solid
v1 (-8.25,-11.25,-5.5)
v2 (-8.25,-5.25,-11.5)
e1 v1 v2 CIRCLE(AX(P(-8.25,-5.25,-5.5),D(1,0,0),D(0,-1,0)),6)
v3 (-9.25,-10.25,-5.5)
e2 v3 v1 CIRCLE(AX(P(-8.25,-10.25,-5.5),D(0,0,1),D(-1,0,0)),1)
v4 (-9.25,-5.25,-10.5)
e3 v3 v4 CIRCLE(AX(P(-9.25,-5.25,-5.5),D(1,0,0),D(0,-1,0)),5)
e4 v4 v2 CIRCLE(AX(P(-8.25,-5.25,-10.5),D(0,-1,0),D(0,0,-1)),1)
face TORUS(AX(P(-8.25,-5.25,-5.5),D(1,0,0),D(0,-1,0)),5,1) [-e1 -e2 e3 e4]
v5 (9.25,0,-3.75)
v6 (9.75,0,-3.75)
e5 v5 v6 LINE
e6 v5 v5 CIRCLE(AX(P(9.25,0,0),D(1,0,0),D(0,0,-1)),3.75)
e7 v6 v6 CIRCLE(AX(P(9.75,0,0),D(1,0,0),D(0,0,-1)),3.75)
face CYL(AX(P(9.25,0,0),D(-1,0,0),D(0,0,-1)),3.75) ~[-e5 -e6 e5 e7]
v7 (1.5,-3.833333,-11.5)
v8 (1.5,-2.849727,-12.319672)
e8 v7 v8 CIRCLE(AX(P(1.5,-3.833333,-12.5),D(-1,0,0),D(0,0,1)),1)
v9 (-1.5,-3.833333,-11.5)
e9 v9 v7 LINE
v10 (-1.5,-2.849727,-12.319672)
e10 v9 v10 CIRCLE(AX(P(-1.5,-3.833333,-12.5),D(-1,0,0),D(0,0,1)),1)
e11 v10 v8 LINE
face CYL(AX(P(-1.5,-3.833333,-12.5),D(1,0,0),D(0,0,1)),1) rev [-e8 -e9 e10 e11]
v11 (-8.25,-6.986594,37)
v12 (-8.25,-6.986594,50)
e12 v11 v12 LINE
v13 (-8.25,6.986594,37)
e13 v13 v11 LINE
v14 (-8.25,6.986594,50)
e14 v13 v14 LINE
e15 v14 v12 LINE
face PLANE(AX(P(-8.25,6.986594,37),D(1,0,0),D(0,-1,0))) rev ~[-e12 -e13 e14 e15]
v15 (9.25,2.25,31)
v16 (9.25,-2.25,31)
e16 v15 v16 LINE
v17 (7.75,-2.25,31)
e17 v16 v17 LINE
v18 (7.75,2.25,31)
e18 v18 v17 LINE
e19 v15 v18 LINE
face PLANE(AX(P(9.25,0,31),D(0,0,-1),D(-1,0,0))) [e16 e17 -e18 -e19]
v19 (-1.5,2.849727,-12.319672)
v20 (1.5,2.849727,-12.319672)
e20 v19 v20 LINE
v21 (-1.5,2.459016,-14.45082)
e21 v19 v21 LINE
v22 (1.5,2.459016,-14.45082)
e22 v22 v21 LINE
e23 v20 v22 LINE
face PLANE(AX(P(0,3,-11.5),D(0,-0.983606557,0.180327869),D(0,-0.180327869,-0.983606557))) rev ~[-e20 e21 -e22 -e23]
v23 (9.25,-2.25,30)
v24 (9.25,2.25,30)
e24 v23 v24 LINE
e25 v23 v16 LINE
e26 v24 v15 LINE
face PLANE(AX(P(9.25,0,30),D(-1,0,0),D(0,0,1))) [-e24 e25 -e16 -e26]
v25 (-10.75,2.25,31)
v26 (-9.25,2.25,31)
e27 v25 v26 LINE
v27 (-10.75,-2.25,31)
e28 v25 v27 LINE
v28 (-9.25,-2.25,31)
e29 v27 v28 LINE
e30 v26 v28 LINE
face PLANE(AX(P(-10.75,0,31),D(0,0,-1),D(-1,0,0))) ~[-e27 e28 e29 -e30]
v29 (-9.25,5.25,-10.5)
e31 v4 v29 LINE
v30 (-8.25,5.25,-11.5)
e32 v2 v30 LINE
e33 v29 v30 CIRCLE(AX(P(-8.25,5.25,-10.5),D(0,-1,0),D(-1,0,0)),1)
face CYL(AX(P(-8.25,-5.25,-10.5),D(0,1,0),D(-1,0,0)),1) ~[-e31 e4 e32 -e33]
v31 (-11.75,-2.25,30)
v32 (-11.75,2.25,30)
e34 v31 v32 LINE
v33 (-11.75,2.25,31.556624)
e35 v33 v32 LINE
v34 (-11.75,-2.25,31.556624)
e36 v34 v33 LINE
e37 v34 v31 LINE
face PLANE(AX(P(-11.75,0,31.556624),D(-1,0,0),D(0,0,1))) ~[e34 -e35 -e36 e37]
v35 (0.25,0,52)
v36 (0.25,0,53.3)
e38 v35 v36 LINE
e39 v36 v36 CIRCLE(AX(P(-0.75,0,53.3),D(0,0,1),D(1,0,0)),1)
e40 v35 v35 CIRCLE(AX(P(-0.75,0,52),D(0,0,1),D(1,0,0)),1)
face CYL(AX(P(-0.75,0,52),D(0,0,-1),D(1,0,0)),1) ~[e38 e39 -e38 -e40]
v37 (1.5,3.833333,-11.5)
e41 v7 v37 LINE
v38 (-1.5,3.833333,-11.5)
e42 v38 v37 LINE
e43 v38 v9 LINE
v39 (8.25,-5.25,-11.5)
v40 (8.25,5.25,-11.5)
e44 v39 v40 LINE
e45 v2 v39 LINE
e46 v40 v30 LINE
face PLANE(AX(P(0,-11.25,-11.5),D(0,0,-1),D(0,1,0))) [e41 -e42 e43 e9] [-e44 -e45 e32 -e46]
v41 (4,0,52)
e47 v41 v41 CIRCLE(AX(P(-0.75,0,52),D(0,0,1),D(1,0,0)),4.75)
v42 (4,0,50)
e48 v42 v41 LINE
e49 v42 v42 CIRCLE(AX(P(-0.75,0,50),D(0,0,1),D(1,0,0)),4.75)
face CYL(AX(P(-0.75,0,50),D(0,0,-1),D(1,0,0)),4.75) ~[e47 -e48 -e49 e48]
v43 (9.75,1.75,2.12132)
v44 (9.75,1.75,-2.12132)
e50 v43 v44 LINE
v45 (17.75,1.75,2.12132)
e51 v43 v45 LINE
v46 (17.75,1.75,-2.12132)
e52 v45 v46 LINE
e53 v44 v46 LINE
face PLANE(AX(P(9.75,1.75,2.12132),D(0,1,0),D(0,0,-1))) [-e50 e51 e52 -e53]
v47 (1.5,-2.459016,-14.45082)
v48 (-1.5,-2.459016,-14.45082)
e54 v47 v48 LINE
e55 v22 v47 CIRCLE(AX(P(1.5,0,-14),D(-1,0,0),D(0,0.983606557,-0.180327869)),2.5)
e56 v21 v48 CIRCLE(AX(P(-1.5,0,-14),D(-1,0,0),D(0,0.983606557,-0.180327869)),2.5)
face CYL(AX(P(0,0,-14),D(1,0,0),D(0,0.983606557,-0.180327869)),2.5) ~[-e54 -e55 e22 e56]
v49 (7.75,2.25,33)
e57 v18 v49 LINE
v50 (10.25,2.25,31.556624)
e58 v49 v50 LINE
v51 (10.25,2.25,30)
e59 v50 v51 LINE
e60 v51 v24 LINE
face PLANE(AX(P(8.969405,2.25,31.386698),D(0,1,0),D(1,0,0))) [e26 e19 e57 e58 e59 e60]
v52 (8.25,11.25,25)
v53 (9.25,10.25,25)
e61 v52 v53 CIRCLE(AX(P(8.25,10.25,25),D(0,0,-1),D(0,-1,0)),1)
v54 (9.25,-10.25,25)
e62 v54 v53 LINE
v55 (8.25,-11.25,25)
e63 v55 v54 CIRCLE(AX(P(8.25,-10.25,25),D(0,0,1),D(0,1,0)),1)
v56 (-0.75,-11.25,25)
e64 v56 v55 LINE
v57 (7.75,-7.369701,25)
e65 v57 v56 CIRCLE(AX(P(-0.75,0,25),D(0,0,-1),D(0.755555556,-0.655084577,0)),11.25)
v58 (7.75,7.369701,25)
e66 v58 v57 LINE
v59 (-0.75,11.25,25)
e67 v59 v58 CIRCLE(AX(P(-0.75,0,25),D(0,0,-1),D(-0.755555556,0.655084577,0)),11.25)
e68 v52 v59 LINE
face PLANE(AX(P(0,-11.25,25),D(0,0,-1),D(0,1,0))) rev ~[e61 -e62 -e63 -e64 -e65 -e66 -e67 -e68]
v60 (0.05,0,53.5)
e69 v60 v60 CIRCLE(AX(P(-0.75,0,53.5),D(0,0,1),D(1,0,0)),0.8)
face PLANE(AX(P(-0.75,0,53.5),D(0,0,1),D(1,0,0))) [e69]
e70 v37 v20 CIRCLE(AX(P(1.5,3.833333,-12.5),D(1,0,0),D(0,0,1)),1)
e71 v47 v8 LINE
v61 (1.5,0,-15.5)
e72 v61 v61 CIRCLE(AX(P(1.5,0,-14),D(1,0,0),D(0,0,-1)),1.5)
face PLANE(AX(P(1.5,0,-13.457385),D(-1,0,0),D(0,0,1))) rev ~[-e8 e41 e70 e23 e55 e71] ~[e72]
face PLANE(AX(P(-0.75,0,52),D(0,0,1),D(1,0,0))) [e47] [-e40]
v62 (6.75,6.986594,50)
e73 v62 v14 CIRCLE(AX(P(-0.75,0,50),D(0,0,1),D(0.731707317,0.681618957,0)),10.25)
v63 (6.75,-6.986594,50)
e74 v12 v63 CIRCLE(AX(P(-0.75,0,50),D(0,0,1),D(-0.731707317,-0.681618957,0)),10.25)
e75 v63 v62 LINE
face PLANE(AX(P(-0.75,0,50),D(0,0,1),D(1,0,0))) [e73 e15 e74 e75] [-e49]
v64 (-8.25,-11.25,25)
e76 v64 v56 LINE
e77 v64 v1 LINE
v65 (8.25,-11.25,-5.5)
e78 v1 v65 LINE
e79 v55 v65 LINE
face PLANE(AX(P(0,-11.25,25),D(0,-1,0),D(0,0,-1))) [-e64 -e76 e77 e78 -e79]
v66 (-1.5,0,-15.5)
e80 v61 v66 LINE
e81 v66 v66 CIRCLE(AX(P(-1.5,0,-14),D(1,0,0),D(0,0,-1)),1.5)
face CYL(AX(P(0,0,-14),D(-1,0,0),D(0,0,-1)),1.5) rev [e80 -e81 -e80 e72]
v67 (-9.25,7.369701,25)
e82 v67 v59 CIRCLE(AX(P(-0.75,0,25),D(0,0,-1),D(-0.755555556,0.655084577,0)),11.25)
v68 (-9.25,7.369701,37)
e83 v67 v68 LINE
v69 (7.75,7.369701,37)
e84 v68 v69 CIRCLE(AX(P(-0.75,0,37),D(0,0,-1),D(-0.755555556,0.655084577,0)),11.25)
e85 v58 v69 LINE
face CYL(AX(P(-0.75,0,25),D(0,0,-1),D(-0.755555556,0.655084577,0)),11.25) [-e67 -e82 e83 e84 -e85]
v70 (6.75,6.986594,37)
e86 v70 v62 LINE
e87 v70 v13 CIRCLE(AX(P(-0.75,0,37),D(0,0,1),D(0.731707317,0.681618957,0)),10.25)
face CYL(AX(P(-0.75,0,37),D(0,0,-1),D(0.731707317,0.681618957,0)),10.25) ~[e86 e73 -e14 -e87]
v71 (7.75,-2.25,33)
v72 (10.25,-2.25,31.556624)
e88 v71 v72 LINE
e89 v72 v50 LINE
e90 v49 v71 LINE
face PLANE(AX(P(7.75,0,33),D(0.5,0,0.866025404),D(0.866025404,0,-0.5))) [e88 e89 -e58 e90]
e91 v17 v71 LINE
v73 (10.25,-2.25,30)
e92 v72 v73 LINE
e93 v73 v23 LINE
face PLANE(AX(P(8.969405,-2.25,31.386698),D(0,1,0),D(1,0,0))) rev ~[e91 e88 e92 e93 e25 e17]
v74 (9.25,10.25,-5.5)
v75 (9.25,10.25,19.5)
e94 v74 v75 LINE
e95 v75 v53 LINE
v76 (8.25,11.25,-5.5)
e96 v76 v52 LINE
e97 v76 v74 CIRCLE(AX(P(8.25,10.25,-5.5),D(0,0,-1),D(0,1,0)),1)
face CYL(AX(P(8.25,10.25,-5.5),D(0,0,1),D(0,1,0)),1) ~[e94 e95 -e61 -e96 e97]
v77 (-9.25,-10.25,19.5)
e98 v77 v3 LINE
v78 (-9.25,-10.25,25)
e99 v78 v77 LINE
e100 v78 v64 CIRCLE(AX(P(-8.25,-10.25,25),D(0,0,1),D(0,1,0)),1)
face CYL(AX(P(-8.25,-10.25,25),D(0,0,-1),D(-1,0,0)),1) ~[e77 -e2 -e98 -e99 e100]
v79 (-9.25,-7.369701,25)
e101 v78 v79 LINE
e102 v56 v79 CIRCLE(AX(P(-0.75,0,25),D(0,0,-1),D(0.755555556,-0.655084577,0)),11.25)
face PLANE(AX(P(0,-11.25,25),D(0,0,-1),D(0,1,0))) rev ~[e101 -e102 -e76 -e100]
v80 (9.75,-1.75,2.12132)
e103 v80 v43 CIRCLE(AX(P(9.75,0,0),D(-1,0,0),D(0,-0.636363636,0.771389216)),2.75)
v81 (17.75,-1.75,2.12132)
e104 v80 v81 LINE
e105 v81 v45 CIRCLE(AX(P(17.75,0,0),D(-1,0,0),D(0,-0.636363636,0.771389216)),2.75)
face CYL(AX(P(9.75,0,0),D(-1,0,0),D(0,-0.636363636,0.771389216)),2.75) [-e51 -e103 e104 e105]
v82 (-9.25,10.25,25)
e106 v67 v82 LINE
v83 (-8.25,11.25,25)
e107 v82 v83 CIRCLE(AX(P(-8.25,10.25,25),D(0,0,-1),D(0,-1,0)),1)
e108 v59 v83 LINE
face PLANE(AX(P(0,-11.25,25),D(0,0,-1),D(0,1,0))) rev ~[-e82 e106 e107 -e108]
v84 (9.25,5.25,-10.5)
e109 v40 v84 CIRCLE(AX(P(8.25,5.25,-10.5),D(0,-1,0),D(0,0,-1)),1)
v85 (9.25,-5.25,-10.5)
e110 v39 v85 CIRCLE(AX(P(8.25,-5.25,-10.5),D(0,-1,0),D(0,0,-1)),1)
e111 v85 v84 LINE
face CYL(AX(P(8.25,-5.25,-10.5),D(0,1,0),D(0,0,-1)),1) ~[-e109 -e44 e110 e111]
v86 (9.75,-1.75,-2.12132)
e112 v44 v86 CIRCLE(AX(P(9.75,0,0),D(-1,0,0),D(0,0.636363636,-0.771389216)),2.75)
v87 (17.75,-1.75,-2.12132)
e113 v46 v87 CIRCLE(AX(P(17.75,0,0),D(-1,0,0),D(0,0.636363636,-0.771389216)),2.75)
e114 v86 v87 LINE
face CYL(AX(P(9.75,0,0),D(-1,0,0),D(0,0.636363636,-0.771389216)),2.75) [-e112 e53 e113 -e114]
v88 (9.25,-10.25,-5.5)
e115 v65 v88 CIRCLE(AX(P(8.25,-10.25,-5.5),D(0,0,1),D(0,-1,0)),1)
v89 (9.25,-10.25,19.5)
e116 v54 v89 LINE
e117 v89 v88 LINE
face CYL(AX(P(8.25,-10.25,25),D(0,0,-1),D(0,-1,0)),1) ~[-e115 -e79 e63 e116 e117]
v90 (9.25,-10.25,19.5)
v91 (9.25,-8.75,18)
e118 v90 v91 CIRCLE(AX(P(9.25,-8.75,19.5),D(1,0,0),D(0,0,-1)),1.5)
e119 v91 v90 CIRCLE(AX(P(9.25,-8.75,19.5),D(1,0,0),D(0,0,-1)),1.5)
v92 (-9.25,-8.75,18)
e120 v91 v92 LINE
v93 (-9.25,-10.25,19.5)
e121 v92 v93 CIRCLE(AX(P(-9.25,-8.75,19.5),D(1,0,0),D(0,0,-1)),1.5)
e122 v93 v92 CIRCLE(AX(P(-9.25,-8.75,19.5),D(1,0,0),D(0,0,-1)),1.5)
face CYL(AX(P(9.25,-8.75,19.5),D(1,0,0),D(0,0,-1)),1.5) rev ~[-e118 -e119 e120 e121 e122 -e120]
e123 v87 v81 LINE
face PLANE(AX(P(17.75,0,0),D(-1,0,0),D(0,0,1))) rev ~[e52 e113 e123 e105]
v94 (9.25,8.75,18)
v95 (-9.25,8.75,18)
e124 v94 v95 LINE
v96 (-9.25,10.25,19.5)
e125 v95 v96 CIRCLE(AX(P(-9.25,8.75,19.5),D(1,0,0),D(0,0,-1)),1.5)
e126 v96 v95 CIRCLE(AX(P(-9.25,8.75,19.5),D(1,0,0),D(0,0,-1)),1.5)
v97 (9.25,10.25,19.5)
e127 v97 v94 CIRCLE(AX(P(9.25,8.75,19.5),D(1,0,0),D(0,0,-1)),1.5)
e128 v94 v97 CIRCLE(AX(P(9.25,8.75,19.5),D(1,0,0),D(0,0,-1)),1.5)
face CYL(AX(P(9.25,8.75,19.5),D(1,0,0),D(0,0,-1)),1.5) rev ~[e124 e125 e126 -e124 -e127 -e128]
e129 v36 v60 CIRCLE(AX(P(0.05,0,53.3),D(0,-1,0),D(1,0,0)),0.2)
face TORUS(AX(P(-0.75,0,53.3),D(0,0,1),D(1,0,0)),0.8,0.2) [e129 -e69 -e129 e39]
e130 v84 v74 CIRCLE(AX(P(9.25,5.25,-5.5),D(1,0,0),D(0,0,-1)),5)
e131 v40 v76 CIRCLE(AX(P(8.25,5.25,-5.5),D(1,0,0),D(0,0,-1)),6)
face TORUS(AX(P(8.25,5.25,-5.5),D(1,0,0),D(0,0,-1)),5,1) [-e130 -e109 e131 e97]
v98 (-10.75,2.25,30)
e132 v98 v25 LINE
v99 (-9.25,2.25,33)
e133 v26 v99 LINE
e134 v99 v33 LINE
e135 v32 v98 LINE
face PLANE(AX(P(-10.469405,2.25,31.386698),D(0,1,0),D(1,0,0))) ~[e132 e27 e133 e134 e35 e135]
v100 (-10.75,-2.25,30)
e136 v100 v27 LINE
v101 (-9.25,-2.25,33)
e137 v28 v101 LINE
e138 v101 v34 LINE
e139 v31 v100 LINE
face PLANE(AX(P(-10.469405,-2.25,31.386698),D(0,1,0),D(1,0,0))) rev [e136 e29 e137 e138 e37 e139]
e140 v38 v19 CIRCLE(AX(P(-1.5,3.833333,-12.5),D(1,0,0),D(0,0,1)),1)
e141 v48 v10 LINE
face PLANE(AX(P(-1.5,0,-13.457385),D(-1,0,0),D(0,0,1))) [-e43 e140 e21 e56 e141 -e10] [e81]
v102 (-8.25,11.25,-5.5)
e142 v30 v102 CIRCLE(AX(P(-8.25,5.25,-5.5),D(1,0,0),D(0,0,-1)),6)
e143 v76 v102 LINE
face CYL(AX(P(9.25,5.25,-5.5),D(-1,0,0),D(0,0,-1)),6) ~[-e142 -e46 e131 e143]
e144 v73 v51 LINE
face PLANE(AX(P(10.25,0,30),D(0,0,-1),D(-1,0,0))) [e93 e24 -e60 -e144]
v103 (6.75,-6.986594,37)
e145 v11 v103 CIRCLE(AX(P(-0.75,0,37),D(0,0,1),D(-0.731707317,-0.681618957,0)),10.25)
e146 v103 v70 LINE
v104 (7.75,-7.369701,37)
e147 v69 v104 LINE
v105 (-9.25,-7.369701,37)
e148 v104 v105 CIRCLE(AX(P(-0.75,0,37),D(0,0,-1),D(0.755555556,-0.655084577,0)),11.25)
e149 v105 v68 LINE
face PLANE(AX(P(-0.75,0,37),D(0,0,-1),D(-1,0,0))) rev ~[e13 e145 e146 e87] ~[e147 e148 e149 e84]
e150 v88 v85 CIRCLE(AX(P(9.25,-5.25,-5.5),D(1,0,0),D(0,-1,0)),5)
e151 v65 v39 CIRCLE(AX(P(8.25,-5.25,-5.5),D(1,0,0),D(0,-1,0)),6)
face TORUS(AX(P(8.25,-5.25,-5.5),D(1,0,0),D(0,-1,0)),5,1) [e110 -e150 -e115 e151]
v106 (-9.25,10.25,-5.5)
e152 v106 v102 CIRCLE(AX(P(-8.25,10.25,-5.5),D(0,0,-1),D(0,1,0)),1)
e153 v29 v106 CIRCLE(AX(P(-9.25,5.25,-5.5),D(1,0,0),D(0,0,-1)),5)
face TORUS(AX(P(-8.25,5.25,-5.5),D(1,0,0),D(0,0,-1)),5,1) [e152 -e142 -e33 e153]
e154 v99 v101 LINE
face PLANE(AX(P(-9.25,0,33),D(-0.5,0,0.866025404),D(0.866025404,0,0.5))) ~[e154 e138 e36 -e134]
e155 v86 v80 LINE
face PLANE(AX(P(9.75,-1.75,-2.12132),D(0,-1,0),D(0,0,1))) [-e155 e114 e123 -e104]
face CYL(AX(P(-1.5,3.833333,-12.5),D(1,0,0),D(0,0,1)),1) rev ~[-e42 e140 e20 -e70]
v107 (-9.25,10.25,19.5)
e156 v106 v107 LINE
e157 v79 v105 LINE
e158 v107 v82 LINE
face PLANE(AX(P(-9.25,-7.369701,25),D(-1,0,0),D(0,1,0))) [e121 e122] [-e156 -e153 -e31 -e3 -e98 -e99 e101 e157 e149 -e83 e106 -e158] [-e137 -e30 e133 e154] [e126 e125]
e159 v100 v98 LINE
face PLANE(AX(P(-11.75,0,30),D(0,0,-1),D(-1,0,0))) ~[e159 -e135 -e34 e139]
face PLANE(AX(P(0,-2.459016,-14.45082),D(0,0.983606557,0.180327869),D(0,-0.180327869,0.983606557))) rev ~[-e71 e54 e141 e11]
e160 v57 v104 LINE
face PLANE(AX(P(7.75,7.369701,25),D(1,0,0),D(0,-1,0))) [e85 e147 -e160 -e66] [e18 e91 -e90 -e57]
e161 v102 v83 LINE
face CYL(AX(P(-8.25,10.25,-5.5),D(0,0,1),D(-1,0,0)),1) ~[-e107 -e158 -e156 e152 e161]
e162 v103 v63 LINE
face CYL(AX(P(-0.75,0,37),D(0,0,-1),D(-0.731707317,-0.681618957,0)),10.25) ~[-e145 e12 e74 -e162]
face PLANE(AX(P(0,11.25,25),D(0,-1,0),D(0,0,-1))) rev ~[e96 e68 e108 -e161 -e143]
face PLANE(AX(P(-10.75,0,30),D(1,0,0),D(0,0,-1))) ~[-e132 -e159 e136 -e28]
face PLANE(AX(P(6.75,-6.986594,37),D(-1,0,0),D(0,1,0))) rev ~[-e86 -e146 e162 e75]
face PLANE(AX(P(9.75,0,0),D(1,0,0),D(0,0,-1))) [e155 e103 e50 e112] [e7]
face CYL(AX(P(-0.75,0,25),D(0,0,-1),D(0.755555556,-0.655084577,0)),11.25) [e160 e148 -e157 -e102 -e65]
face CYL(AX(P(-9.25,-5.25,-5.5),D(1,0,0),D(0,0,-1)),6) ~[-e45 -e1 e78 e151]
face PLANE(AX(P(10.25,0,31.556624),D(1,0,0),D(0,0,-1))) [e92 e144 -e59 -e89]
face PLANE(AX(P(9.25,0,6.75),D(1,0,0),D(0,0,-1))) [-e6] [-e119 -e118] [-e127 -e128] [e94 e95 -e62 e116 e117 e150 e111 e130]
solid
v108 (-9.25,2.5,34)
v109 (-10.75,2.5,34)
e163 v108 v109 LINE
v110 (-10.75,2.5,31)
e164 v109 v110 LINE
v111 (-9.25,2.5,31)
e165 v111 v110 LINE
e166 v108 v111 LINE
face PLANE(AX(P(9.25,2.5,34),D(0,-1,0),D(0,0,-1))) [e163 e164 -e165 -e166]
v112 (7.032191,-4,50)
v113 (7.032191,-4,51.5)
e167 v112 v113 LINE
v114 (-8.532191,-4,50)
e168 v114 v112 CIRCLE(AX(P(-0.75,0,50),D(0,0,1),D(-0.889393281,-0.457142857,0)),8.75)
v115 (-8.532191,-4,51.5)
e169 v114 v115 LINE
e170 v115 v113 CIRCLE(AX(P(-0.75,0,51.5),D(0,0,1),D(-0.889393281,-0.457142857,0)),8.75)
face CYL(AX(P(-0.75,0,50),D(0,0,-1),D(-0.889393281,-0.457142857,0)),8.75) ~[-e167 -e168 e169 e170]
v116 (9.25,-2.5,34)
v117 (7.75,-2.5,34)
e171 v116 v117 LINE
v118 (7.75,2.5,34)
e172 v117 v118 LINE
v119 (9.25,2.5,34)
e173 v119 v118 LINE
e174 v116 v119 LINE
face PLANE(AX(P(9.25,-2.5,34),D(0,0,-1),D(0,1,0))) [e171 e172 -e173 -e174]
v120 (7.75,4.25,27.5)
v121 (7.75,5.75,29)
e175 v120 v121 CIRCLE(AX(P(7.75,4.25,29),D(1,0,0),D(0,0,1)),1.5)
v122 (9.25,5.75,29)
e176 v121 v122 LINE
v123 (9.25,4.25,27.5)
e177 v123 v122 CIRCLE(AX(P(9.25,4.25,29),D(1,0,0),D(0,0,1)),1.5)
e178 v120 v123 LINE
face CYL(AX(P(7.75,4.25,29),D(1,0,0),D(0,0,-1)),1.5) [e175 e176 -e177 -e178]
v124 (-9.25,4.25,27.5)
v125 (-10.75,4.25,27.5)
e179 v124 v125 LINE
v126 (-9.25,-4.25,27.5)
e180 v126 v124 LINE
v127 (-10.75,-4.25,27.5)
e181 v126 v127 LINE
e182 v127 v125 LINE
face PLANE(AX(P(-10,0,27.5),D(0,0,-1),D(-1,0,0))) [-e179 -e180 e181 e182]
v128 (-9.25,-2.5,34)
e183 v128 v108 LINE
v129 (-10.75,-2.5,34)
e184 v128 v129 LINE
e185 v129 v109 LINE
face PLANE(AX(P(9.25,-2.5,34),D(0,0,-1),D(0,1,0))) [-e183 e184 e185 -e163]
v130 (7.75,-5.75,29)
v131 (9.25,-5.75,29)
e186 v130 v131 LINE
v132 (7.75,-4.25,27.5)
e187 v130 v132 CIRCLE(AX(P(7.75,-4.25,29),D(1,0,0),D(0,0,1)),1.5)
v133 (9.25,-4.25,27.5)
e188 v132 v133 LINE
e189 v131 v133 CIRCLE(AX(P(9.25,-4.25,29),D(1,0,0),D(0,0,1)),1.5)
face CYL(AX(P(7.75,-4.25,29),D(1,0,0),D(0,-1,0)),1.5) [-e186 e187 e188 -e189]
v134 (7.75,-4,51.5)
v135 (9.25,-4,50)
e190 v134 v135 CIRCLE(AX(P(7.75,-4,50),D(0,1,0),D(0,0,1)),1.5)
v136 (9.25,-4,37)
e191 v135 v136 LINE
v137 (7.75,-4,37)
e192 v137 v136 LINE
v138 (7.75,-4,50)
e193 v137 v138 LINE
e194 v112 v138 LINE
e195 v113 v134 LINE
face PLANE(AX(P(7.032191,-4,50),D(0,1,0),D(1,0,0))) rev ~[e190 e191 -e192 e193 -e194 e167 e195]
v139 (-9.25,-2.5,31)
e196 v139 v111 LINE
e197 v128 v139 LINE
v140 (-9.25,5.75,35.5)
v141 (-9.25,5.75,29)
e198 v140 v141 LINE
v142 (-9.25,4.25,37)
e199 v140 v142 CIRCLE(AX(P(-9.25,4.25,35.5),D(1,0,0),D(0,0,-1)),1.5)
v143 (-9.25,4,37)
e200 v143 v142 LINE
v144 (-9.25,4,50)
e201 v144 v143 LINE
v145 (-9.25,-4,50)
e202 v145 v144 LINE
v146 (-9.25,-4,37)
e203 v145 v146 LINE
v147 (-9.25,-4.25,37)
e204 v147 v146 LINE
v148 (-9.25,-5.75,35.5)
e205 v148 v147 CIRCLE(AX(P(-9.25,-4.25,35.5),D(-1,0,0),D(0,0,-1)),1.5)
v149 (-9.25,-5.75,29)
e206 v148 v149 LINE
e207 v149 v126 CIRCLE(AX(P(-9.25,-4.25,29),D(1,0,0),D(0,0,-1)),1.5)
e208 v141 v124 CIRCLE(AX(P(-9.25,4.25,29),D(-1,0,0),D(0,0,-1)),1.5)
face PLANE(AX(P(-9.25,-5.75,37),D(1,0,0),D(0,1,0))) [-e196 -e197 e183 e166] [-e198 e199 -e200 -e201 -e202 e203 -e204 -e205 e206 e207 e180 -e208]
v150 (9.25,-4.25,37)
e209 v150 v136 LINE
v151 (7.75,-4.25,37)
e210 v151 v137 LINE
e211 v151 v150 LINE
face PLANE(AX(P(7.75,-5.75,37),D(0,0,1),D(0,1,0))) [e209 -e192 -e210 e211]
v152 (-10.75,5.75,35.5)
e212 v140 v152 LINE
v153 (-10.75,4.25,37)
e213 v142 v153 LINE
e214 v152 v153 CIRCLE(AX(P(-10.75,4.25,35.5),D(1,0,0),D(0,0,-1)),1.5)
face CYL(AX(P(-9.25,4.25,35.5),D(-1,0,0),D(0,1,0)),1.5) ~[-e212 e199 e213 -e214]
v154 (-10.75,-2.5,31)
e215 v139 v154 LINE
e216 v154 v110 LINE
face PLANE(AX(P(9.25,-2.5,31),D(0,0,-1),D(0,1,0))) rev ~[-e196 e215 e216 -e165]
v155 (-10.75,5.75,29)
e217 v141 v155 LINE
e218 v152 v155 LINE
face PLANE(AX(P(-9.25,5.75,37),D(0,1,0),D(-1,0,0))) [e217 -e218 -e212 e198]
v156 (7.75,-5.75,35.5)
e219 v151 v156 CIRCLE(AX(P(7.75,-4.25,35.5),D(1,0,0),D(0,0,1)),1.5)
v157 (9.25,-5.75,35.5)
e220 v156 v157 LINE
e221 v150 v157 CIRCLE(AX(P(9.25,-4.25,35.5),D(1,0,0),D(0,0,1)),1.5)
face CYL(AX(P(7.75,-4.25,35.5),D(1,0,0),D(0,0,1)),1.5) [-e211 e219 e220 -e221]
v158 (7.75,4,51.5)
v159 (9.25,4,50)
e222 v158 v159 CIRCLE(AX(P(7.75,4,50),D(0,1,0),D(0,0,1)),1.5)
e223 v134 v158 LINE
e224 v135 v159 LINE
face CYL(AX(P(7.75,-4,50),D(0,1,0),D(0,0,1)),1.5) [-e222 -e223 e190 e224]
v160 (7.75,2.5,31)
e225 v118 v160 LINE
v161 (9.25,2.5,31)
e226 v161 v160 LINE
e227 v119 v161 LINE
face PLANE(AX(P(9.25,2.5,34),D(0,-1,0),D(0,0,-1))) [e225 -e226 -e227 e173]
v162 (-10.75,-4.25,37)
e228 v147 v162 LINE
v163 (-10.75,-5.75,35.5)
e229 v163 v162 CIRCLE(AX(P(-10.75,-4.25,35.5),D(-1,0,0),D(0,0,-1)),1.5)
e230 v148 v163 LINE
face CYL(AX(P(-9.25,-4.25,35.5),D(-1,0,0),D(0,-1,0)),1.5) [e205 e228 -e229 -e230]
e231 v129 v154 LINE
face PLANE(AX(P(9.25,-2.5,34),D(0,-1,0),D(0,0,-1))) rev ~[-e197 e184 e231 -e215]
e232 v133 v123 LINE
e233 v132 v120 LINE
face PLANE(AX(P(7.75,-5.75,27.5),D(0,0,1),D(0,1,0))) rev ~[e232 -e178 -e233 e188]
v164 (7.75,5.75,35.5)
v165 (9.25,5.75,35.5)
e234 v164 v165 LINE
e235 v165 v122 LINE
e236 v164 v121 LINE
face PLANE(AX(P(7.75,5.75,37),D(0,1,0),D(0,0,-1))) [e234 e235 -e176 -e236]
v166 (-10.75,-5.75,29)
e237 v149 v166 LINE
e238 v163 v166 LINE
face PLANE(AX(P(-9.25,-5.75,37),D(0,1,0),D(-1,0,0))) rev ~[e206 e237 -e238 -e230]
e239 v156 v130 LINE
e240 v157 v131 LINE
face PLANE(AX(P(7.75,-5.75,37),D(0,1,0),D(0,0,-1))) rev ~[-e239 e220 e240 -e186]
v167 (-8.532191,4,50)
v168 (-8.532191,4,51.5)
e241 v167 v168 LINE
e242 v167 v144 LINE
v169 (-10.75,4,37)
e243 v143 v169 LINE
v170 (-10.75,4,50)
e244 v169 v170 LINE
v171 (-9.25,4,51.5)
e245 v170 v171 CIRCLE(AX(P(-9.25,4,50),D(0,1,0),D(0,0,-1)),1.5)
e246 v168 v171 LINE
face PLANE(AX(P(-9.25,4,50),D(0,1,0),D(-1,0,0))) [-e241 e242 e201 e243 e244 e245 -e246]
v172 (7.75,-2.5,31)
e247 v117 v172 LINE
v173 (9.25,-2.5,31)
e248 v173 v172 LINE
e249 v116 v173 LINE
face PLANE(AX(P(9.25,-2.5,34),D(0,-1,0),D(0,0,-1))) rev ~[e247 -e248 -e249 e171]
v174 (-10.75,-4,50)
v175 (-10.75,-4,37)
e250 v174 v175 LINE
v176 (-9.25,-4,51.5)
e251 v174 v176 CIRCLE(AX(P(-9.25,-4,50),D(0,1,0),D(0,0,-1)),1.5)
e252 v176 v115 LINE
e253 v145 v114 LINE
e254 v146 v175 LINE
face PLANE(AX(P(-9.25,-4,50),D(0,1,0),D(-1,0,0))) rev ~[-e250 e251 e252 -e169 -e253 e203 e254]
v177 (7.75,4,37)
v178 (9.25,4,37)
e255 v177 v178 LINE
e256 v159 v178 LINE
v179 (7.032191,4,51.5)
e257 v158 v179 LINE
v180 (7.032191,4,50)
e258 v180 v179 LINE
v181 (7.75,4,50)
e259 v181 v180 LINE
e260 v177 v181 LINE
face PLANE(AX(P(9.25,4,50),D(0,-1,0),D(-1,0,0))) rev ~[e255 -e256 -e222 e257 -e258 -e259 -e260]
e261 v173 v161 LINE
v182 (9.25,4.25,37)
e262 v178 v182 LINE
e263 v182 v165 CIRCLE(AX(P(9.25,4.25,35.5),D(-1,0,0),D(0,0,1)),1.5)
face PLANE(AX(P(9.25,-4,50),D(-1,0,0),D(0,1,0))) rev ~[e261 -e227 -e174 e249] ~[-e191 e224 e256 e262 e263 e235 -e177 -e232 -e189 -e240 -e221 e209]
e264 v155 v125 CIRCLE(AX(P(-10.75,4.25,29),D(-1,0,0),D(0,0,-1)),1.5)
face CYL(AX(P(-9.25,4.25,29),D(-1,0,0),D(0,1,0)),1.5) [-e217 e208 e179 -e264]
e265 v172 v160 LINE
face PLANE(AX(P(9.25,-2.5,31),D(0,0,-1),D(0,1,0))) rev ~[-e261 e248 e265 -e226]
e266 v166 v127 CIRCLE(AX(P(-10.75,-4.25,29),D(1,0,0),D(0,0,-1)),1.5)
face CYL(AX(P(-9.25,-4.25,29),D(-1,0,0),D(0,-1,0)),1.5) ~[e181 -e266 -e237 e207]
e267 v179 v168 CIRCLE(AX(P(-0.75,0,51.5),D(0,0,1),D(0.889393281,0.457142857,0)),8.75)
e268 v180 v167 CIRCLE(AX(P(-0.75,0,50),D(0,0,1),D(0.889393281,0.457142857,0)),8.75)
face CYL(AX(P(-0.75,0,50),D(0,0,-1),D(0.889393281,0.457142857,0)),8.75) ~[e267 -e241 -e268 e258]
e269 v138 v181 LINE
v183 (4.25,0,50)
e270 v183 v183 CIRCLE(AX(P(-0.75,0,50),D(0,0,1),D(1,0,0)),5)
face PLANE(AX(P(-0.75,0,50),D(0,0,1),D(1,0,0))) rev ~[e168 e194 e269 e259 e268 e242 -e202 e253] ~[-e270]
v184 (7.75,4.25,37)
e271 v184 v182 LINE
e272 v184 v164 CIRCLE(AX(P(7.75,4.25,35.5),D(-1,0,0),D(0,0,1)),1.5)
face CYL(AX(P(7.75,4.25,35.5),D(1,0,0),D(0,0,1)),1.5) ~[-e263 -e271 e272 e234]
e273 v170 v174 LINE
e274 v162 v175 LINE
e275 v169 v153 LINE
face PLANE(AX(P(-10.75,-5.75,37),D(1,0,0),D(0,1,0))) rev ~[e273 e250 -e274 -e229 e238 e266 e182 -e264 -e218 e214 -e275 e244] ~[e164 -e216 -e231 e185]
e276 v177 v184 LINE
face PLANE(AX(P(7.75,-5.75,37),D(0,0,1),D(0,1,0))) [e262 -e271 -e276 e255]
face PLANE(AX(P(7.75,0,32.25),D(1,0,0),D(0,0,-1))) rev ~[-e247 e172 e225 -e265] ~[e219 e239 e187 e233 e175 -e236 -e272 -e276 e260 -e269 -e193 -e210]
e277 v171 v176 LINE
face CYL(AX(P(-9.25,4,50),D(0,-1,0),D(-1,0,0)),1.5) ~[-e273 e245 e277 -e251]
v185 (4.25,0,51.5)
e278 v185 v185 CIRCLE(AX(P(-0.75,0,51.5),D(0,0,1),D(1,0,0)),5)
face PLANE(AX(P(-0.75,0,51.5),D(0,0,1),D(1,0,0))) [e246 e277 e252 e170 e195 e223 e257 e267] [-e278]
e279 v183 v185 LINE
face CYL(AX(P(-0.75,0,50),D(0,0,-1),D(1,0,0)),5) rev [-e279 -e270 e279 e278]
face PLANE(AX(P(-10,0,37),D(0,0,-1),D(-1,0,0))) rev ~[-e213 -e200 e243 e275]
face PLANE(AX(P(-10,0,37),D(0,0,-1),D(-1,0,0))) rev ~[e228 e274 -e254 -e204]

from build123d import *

# Parameters (mm, degrees)
ESBO_O1_W                 = 36.5
ESBO_O1_H                 = 22.5
RESSALTO_EXTRUS_O1_DEPTH  = 9.25
FILETE1_R                 = 6
RESSALTO_EXTRUS_O2_DEPTH  = 12
RESSALTO_EXTRUS_O3_DEPTH  = 13
ESBO_O4_R                 = 3.75
RESSALTO_EXTRUS_O4_DEPTH  = 0.5
ESBO_O5_W                 = 9.5
ESBO_O5_H                 = 11.5
RESSALTO_EXTRUS_O5_DEPTH  = 1.5
ESBO_O6_W                 = 1.5
ESBO_O6_H                 = 8
RESSALTO_EXTRUS_O6_DEPTH  = 13
ESBO_O8_R                 = 4.75
RESSALTO_EXTRUS_O7_DEPTH  = 2
ESBO_O7_R                 = 5
RESSALTO_EXTRUS_O8_DEPTH  = 1.5
ESBO_O10_W                = 1.5
ESBO_O10_H                = 8
RESSALTO_EXTRUS_O9_DEPTH  = 13
ESBO_O11_W                = 1.5
ESBO_O11_H                = 11.5
RESSALTO_EXTRUS_O10_DEPTH = 9.5
FILETE2_R                 = 1.5
ESBO_O12_W                = 3
ESBO_O12_H                = 5
CORTE_EXTRUS_O1_DEPTH     = 21
RESSALTO_EXTRUS_O11_DEPTH = 2.25
ESBO_O15_R                = 1
RESSALTO_EXTRUS_O12_DEPTH = 1.5
RESSALTO_EXTRUS_O13_DEPTH = 8
FILETE4_R                 = 1
ESBO_O17_R                = 1.5
CORTE_EXTRUS_O2_DEPTH     = 22
ESBO_O19_R                = 1.5
RESSALTO_EXTRUS_O14_DEPTH = 1.5
FILETE5_R                 = 1
FILETE6_R                 = 0.2


with BuildPart() as part:
    # Esboço1 → Ressalto-extrusão1 (new body, symmetric)
    with BuildSketch(Plane(origin=(0, 0, 0), x_dir=(0, 0, -1), z_dir=(1, 0, 0))):
        with Locations((-6.75, 0)):
            Rectangle(ESBO_O1_W, ESBO_O1_H)
    extrude(amount=RESSALTO_EXTRUS_O1_DEPTH, both=True)

    # Filete1
    filete1_edges = [part.edges().sort_by_distance(p)[0] for p in [
        (0, -11.25, -11.5),
        (0, 11.25, -11.5),
    ]]
    fillet(filete1_edges, radius=FILETE1_R)

    # Esboço2 → Ressalto-extrusão2 (add)
    with BuildSketch(Plane.XY.offset(25)):
        with BuildLine():
            Line((7.75, 7.369701486), (7.75, -7.369701486))
            ThreePointArc((7.75, -7.369701486), (-0.75, -11.25), (-9.25, -7.369701486))
            Line((-9.25, -7.369701486), (-9.25, 7.369701486))
            ThreePointArc((-9.25, 7.369701486), (-0.75, 11.25), (7.75, 7.369701486))
        make_face()
    extrude(amount=RESSALTO_EXTRUS_O2_DEPTH)

    # Esboço3 → Ressalto-extrusão3 (add)
    with BuildSketch(Plane.XY.offset(37)):
        with BuildLine():
            Line((-8.25, 6.986594306), (-8.25, -6.986594306))
            ThreePointArc((-8.25, -6.986594306), (-0.75, -10.25), (6.75, -6.986594306))
            Line((6.75, -6.986594306), (6.75, 6.986594306))
            ThreePointArc((6.75, 6.986594306), (-0.75, 10.25), (-8.25, 6.986594306))
        make_face()
    extrude(amount=RESSALTO_EXTRUS_O3_DEPTH)

    # Esboço4 → Ressalto-extrusão4 (add)
    with BuildSketch(Plane(origin=(9.25, 0, 0), x_dir=(0, 0, -1), z_dir=(1, 0, 0))):
        Circle(ESBO_O4_R)
    extrude(amount=RESSALTO_EXTRUS_O4_DEPTH)

    # Esboço8 → Ressalto-extrusão7 (add)
    with BuildSketch(Plane.XY.offset(50)):
        with Locations((-0.75, 0)):
            Circle(ESBO_O8_R)
    extrude(amount=RESSALTO_EXTRUS_O7_DEPTH)

    # Esboço14 → Ressalto-extrusão11 (add, symmetric)
    with BuildSketch(Plane(origin=(0, 0, 0), x_dir=(1, 0, 0), z_dir=(0, 1, 0))):
        Polygon((7.75, -33), (10.25, -31.556624327), (10.25, -30), (9.25, -30), (9.25, -31), (7.75, -31), align=None)
    ressalto_extrus_o11 = extrude(amount=RESSALTO_EXTRUS_O11_DEPTH, both=True)

    # Espelhar6: Ressalto-extrusão11 across plane
    add(ressalto_extrus_o11.mirror(Plane(origin=(-0.75, 8.75, 51.5), x_dir=(0, 0, 1), z_dir=(-1, 0, 0))))

    # Esboço15 → Ressalto-extrusão12 (add)
    with BuildSketch(Plane.XY.offset(52)):
        with Locations((-0.75, 0)):
            Circle(ESBO_O15_R)
    extrude(amount=RESSALTO_EXTRUS_O12_DEPTH)

    # Esboço16 → Ressalto-extrusão13 (add)
    with BuildSketch(Plane(origin=(9.75, 0, 0), x_dir=(0, 0, -1), z_dir=(1, 0, 0))):
        with BuildLine():
            Line((-2.121320344, 1.75), (2.121320344, 1.75))
            ThreePointArc((2.121320344, 1.75), (2.75, 0), (2.121320344, -1.75))
            Line((2.121320344, -1.75), (-2.121320344, -1.75))
            ThreePointArc((-2.121320344, -1.75), (-2.75, 0), (-2.121320344, 1.75))
        make_face()
    extrude(amount=RESSALTO_EXTRUS_O13_DEPTH)

    # Filete4
    filete4_edges = [part.edges().sort_by_distance(p)[0] for p in [
        (-9.25, -11.25, 9.75),
        (9.25, -11.25, 9.75),
        (9.25, -9.492640687, -9.742640687),
        (-9.25, -9.492640687, -9.742640687),
        (9.25, 0, -11.5),
        (-9.25, 0, -11.5),
        (9.25, 9.492640687, -9.742640687),
        (-9.25, 9.492640687, -9.742640687),
        (9.25, 11.25, 9.75),
        (-9.25, 11.25, 9.75),
    ]]
    fillet(filete4_edges, radius=FILETE4_R)

    # Esboço17 → Corte-extrusão2 (cut, through all)
    with BuildSketch(Plane(origin=(9.25, 0, 0), x_dir=(0, 0, -1), z_dir=(1, 0, 0))):
        with Locations((-19.5, 8.75)):
            Circle(ESBO_O17_R)
        with Locations((-19.5, -8.75)):
            Circle(ESBO_O17_R)
    extrude(amount=-CORTE_EXTRUS_O2_DEPTH, mode=Mode.SUBTRACT)

    # Esboço19 → Ressalto-extrusão14 (add, symmetric)
    with BuildSketch(Plane(origin=(0, 0, 0), x_dir=(0, 0, -1), z_dir=(1, 0, 0))):
        with BuildLine():
            Line((11.5, 3), (14.450819672, 2.459016393))
            ThreePointArc((14.450819672, 2.459016393), (16.5, 0), (14.450819672, -2.459016393))
            Line((14.450819672, -2.459016393), (11.5, -3))
            Line((11.5, -3), (11.5, 3))
        make_face()
        with Locations((14, 0)):
            Circle(ESBO_O19_R, mode=Mode.SUBTRACT)
    extrude(amount=RESSALTO_EXTRUS_O14_DEPTH, both=True)

    # Filete5
    filete5_edges = [part.edges().sort_by_distance(p)[0] for p in [
        (0, 3, -11.5),
        (0, -3, -11.5),
    ]]
    fillet(filete5_edges, radius=FILETE5_R)

    # Filete6
    filete6_edges = [part.edges().sort_by_distance(p)[0] for p in [
        (-1.75, 0, 53.5),
    ]]
    fillet(filete6_edges, radius=FILETE6_R)


with BuildPart() as body_2:
    # Esboço5 → Ressalto-extrusão5 (new body)
    with BuildSketch(Plane(origin=(7.75, 0, 0), x_dir=(0, 0, -1), z_dir=(1, 0, 0))):
        with Locations((-32.25, 0)):
            Rectangle(ESBO_O5_W, ESBO_O5_H)
    extrude(amount=RESSALTO_EXTRUS_O5_DEPTH)

    # Esboço6 → Ressalto-extrusão6 (add)
    with BuildSketch(Plane.XY.offset(37)):
        with Locations((8.5, 0)):
            Rectangle(ESBO_O6_W, ESBO_O6_H)
    extrude(amount=RESSALTO_EXTRUS_O6_DEPTH)

    # Esboço7 → Ressalto-extrusão8 (add)
    with BuildSketch(Plane.XY.offset(50)):
        with BuildLine():
            Line((9.25, 4), (7.032191208, 4))
            ThreePointArc((7.032191208, 4), (-0.75, 8.75), (-8.532191208, 4))
            Line((-8.532191208, 4), (-10.75, 4))
            Line((-10.75, 4), (-10.75, -4))
            Line((-10.75, -4), (-8.532191208, -4))
            ThreePointArc((-8.532191208, -4), (-0.75, -8.75), (7.032191208, -4))
            Line((7.032191208, -4), (9.25, -4))
            Line((9.25, -4), (9.25, 4))
        make_face()
        with Locations((-0.75, 0)):
            Circle(ESBO_O7_R, mode=Mode.SUBTRACT)
    extrude(amount=RESSALTO_EXTRUS_O8_DEPTH)

    # Esboço10 → Ressalto-extrusão9 (add)
    with BuildSketch(Plane(origin=(0, 0, 50), x_dir=(-1, 0, 0), z_dir=(0, 0, -1))):
        with Locations((10, 0)):
            Rectangle(ESBO_O10_W, ESBO_O10_H)
    extrude(amount=RESSALTO_EXTRUS_O9_DEPTH)

    # Esboço11 → Ressalto-extrusão10 (add)
    with BuildSketch(Plane(origin=(0, 0, 37), x_dir=(-1, 0, 0), z_dir=(0, 0, -1))):
        with Locations((10, 0)):
            Rectangle(ESBO_O11_W, ESBO_O11_H)
    extrude(amount=RESSALTO_EXTRUS_O10_DEPTH)

    # Filete2
    filete2_edges = [body_2.edges().sort_by_distance(p)[0] for p in [
        (8.5, -5.75, 37),
        (8.5, -5.75, 27.5),
        (8.5, 5.75, 27.5),
        (8.5, 5.75, 37),
        (9.25, 0, 51.5),
        (-10.75, 0, 51.5),
        (-10, -5.75, 27.5),
        (-10, -5.75, 37),
        (-10, 5.75, 37),
        (-10, 5.75, 27.5),
    ]]
    fillet(filete2_edges, radius=FILETE2_R)

    # Esboço12 → Corte-extrusão1 (cut, through all)
    with BuildSketch(Plane(origin=(9.25, 0, 0), x_dir=(0, 0, -1), z_dir=(1, 0, 0))):
        with Locations((-32.5, 0)):
            Rectangle(ESBO_O12_W, ESBO_O12_H)
    extrude(amount=-CORTE_EXTRUS_O1_DEPTH, mode=Mode.SUBTRACT)


solid = Compound([part.part, body_2.part])
